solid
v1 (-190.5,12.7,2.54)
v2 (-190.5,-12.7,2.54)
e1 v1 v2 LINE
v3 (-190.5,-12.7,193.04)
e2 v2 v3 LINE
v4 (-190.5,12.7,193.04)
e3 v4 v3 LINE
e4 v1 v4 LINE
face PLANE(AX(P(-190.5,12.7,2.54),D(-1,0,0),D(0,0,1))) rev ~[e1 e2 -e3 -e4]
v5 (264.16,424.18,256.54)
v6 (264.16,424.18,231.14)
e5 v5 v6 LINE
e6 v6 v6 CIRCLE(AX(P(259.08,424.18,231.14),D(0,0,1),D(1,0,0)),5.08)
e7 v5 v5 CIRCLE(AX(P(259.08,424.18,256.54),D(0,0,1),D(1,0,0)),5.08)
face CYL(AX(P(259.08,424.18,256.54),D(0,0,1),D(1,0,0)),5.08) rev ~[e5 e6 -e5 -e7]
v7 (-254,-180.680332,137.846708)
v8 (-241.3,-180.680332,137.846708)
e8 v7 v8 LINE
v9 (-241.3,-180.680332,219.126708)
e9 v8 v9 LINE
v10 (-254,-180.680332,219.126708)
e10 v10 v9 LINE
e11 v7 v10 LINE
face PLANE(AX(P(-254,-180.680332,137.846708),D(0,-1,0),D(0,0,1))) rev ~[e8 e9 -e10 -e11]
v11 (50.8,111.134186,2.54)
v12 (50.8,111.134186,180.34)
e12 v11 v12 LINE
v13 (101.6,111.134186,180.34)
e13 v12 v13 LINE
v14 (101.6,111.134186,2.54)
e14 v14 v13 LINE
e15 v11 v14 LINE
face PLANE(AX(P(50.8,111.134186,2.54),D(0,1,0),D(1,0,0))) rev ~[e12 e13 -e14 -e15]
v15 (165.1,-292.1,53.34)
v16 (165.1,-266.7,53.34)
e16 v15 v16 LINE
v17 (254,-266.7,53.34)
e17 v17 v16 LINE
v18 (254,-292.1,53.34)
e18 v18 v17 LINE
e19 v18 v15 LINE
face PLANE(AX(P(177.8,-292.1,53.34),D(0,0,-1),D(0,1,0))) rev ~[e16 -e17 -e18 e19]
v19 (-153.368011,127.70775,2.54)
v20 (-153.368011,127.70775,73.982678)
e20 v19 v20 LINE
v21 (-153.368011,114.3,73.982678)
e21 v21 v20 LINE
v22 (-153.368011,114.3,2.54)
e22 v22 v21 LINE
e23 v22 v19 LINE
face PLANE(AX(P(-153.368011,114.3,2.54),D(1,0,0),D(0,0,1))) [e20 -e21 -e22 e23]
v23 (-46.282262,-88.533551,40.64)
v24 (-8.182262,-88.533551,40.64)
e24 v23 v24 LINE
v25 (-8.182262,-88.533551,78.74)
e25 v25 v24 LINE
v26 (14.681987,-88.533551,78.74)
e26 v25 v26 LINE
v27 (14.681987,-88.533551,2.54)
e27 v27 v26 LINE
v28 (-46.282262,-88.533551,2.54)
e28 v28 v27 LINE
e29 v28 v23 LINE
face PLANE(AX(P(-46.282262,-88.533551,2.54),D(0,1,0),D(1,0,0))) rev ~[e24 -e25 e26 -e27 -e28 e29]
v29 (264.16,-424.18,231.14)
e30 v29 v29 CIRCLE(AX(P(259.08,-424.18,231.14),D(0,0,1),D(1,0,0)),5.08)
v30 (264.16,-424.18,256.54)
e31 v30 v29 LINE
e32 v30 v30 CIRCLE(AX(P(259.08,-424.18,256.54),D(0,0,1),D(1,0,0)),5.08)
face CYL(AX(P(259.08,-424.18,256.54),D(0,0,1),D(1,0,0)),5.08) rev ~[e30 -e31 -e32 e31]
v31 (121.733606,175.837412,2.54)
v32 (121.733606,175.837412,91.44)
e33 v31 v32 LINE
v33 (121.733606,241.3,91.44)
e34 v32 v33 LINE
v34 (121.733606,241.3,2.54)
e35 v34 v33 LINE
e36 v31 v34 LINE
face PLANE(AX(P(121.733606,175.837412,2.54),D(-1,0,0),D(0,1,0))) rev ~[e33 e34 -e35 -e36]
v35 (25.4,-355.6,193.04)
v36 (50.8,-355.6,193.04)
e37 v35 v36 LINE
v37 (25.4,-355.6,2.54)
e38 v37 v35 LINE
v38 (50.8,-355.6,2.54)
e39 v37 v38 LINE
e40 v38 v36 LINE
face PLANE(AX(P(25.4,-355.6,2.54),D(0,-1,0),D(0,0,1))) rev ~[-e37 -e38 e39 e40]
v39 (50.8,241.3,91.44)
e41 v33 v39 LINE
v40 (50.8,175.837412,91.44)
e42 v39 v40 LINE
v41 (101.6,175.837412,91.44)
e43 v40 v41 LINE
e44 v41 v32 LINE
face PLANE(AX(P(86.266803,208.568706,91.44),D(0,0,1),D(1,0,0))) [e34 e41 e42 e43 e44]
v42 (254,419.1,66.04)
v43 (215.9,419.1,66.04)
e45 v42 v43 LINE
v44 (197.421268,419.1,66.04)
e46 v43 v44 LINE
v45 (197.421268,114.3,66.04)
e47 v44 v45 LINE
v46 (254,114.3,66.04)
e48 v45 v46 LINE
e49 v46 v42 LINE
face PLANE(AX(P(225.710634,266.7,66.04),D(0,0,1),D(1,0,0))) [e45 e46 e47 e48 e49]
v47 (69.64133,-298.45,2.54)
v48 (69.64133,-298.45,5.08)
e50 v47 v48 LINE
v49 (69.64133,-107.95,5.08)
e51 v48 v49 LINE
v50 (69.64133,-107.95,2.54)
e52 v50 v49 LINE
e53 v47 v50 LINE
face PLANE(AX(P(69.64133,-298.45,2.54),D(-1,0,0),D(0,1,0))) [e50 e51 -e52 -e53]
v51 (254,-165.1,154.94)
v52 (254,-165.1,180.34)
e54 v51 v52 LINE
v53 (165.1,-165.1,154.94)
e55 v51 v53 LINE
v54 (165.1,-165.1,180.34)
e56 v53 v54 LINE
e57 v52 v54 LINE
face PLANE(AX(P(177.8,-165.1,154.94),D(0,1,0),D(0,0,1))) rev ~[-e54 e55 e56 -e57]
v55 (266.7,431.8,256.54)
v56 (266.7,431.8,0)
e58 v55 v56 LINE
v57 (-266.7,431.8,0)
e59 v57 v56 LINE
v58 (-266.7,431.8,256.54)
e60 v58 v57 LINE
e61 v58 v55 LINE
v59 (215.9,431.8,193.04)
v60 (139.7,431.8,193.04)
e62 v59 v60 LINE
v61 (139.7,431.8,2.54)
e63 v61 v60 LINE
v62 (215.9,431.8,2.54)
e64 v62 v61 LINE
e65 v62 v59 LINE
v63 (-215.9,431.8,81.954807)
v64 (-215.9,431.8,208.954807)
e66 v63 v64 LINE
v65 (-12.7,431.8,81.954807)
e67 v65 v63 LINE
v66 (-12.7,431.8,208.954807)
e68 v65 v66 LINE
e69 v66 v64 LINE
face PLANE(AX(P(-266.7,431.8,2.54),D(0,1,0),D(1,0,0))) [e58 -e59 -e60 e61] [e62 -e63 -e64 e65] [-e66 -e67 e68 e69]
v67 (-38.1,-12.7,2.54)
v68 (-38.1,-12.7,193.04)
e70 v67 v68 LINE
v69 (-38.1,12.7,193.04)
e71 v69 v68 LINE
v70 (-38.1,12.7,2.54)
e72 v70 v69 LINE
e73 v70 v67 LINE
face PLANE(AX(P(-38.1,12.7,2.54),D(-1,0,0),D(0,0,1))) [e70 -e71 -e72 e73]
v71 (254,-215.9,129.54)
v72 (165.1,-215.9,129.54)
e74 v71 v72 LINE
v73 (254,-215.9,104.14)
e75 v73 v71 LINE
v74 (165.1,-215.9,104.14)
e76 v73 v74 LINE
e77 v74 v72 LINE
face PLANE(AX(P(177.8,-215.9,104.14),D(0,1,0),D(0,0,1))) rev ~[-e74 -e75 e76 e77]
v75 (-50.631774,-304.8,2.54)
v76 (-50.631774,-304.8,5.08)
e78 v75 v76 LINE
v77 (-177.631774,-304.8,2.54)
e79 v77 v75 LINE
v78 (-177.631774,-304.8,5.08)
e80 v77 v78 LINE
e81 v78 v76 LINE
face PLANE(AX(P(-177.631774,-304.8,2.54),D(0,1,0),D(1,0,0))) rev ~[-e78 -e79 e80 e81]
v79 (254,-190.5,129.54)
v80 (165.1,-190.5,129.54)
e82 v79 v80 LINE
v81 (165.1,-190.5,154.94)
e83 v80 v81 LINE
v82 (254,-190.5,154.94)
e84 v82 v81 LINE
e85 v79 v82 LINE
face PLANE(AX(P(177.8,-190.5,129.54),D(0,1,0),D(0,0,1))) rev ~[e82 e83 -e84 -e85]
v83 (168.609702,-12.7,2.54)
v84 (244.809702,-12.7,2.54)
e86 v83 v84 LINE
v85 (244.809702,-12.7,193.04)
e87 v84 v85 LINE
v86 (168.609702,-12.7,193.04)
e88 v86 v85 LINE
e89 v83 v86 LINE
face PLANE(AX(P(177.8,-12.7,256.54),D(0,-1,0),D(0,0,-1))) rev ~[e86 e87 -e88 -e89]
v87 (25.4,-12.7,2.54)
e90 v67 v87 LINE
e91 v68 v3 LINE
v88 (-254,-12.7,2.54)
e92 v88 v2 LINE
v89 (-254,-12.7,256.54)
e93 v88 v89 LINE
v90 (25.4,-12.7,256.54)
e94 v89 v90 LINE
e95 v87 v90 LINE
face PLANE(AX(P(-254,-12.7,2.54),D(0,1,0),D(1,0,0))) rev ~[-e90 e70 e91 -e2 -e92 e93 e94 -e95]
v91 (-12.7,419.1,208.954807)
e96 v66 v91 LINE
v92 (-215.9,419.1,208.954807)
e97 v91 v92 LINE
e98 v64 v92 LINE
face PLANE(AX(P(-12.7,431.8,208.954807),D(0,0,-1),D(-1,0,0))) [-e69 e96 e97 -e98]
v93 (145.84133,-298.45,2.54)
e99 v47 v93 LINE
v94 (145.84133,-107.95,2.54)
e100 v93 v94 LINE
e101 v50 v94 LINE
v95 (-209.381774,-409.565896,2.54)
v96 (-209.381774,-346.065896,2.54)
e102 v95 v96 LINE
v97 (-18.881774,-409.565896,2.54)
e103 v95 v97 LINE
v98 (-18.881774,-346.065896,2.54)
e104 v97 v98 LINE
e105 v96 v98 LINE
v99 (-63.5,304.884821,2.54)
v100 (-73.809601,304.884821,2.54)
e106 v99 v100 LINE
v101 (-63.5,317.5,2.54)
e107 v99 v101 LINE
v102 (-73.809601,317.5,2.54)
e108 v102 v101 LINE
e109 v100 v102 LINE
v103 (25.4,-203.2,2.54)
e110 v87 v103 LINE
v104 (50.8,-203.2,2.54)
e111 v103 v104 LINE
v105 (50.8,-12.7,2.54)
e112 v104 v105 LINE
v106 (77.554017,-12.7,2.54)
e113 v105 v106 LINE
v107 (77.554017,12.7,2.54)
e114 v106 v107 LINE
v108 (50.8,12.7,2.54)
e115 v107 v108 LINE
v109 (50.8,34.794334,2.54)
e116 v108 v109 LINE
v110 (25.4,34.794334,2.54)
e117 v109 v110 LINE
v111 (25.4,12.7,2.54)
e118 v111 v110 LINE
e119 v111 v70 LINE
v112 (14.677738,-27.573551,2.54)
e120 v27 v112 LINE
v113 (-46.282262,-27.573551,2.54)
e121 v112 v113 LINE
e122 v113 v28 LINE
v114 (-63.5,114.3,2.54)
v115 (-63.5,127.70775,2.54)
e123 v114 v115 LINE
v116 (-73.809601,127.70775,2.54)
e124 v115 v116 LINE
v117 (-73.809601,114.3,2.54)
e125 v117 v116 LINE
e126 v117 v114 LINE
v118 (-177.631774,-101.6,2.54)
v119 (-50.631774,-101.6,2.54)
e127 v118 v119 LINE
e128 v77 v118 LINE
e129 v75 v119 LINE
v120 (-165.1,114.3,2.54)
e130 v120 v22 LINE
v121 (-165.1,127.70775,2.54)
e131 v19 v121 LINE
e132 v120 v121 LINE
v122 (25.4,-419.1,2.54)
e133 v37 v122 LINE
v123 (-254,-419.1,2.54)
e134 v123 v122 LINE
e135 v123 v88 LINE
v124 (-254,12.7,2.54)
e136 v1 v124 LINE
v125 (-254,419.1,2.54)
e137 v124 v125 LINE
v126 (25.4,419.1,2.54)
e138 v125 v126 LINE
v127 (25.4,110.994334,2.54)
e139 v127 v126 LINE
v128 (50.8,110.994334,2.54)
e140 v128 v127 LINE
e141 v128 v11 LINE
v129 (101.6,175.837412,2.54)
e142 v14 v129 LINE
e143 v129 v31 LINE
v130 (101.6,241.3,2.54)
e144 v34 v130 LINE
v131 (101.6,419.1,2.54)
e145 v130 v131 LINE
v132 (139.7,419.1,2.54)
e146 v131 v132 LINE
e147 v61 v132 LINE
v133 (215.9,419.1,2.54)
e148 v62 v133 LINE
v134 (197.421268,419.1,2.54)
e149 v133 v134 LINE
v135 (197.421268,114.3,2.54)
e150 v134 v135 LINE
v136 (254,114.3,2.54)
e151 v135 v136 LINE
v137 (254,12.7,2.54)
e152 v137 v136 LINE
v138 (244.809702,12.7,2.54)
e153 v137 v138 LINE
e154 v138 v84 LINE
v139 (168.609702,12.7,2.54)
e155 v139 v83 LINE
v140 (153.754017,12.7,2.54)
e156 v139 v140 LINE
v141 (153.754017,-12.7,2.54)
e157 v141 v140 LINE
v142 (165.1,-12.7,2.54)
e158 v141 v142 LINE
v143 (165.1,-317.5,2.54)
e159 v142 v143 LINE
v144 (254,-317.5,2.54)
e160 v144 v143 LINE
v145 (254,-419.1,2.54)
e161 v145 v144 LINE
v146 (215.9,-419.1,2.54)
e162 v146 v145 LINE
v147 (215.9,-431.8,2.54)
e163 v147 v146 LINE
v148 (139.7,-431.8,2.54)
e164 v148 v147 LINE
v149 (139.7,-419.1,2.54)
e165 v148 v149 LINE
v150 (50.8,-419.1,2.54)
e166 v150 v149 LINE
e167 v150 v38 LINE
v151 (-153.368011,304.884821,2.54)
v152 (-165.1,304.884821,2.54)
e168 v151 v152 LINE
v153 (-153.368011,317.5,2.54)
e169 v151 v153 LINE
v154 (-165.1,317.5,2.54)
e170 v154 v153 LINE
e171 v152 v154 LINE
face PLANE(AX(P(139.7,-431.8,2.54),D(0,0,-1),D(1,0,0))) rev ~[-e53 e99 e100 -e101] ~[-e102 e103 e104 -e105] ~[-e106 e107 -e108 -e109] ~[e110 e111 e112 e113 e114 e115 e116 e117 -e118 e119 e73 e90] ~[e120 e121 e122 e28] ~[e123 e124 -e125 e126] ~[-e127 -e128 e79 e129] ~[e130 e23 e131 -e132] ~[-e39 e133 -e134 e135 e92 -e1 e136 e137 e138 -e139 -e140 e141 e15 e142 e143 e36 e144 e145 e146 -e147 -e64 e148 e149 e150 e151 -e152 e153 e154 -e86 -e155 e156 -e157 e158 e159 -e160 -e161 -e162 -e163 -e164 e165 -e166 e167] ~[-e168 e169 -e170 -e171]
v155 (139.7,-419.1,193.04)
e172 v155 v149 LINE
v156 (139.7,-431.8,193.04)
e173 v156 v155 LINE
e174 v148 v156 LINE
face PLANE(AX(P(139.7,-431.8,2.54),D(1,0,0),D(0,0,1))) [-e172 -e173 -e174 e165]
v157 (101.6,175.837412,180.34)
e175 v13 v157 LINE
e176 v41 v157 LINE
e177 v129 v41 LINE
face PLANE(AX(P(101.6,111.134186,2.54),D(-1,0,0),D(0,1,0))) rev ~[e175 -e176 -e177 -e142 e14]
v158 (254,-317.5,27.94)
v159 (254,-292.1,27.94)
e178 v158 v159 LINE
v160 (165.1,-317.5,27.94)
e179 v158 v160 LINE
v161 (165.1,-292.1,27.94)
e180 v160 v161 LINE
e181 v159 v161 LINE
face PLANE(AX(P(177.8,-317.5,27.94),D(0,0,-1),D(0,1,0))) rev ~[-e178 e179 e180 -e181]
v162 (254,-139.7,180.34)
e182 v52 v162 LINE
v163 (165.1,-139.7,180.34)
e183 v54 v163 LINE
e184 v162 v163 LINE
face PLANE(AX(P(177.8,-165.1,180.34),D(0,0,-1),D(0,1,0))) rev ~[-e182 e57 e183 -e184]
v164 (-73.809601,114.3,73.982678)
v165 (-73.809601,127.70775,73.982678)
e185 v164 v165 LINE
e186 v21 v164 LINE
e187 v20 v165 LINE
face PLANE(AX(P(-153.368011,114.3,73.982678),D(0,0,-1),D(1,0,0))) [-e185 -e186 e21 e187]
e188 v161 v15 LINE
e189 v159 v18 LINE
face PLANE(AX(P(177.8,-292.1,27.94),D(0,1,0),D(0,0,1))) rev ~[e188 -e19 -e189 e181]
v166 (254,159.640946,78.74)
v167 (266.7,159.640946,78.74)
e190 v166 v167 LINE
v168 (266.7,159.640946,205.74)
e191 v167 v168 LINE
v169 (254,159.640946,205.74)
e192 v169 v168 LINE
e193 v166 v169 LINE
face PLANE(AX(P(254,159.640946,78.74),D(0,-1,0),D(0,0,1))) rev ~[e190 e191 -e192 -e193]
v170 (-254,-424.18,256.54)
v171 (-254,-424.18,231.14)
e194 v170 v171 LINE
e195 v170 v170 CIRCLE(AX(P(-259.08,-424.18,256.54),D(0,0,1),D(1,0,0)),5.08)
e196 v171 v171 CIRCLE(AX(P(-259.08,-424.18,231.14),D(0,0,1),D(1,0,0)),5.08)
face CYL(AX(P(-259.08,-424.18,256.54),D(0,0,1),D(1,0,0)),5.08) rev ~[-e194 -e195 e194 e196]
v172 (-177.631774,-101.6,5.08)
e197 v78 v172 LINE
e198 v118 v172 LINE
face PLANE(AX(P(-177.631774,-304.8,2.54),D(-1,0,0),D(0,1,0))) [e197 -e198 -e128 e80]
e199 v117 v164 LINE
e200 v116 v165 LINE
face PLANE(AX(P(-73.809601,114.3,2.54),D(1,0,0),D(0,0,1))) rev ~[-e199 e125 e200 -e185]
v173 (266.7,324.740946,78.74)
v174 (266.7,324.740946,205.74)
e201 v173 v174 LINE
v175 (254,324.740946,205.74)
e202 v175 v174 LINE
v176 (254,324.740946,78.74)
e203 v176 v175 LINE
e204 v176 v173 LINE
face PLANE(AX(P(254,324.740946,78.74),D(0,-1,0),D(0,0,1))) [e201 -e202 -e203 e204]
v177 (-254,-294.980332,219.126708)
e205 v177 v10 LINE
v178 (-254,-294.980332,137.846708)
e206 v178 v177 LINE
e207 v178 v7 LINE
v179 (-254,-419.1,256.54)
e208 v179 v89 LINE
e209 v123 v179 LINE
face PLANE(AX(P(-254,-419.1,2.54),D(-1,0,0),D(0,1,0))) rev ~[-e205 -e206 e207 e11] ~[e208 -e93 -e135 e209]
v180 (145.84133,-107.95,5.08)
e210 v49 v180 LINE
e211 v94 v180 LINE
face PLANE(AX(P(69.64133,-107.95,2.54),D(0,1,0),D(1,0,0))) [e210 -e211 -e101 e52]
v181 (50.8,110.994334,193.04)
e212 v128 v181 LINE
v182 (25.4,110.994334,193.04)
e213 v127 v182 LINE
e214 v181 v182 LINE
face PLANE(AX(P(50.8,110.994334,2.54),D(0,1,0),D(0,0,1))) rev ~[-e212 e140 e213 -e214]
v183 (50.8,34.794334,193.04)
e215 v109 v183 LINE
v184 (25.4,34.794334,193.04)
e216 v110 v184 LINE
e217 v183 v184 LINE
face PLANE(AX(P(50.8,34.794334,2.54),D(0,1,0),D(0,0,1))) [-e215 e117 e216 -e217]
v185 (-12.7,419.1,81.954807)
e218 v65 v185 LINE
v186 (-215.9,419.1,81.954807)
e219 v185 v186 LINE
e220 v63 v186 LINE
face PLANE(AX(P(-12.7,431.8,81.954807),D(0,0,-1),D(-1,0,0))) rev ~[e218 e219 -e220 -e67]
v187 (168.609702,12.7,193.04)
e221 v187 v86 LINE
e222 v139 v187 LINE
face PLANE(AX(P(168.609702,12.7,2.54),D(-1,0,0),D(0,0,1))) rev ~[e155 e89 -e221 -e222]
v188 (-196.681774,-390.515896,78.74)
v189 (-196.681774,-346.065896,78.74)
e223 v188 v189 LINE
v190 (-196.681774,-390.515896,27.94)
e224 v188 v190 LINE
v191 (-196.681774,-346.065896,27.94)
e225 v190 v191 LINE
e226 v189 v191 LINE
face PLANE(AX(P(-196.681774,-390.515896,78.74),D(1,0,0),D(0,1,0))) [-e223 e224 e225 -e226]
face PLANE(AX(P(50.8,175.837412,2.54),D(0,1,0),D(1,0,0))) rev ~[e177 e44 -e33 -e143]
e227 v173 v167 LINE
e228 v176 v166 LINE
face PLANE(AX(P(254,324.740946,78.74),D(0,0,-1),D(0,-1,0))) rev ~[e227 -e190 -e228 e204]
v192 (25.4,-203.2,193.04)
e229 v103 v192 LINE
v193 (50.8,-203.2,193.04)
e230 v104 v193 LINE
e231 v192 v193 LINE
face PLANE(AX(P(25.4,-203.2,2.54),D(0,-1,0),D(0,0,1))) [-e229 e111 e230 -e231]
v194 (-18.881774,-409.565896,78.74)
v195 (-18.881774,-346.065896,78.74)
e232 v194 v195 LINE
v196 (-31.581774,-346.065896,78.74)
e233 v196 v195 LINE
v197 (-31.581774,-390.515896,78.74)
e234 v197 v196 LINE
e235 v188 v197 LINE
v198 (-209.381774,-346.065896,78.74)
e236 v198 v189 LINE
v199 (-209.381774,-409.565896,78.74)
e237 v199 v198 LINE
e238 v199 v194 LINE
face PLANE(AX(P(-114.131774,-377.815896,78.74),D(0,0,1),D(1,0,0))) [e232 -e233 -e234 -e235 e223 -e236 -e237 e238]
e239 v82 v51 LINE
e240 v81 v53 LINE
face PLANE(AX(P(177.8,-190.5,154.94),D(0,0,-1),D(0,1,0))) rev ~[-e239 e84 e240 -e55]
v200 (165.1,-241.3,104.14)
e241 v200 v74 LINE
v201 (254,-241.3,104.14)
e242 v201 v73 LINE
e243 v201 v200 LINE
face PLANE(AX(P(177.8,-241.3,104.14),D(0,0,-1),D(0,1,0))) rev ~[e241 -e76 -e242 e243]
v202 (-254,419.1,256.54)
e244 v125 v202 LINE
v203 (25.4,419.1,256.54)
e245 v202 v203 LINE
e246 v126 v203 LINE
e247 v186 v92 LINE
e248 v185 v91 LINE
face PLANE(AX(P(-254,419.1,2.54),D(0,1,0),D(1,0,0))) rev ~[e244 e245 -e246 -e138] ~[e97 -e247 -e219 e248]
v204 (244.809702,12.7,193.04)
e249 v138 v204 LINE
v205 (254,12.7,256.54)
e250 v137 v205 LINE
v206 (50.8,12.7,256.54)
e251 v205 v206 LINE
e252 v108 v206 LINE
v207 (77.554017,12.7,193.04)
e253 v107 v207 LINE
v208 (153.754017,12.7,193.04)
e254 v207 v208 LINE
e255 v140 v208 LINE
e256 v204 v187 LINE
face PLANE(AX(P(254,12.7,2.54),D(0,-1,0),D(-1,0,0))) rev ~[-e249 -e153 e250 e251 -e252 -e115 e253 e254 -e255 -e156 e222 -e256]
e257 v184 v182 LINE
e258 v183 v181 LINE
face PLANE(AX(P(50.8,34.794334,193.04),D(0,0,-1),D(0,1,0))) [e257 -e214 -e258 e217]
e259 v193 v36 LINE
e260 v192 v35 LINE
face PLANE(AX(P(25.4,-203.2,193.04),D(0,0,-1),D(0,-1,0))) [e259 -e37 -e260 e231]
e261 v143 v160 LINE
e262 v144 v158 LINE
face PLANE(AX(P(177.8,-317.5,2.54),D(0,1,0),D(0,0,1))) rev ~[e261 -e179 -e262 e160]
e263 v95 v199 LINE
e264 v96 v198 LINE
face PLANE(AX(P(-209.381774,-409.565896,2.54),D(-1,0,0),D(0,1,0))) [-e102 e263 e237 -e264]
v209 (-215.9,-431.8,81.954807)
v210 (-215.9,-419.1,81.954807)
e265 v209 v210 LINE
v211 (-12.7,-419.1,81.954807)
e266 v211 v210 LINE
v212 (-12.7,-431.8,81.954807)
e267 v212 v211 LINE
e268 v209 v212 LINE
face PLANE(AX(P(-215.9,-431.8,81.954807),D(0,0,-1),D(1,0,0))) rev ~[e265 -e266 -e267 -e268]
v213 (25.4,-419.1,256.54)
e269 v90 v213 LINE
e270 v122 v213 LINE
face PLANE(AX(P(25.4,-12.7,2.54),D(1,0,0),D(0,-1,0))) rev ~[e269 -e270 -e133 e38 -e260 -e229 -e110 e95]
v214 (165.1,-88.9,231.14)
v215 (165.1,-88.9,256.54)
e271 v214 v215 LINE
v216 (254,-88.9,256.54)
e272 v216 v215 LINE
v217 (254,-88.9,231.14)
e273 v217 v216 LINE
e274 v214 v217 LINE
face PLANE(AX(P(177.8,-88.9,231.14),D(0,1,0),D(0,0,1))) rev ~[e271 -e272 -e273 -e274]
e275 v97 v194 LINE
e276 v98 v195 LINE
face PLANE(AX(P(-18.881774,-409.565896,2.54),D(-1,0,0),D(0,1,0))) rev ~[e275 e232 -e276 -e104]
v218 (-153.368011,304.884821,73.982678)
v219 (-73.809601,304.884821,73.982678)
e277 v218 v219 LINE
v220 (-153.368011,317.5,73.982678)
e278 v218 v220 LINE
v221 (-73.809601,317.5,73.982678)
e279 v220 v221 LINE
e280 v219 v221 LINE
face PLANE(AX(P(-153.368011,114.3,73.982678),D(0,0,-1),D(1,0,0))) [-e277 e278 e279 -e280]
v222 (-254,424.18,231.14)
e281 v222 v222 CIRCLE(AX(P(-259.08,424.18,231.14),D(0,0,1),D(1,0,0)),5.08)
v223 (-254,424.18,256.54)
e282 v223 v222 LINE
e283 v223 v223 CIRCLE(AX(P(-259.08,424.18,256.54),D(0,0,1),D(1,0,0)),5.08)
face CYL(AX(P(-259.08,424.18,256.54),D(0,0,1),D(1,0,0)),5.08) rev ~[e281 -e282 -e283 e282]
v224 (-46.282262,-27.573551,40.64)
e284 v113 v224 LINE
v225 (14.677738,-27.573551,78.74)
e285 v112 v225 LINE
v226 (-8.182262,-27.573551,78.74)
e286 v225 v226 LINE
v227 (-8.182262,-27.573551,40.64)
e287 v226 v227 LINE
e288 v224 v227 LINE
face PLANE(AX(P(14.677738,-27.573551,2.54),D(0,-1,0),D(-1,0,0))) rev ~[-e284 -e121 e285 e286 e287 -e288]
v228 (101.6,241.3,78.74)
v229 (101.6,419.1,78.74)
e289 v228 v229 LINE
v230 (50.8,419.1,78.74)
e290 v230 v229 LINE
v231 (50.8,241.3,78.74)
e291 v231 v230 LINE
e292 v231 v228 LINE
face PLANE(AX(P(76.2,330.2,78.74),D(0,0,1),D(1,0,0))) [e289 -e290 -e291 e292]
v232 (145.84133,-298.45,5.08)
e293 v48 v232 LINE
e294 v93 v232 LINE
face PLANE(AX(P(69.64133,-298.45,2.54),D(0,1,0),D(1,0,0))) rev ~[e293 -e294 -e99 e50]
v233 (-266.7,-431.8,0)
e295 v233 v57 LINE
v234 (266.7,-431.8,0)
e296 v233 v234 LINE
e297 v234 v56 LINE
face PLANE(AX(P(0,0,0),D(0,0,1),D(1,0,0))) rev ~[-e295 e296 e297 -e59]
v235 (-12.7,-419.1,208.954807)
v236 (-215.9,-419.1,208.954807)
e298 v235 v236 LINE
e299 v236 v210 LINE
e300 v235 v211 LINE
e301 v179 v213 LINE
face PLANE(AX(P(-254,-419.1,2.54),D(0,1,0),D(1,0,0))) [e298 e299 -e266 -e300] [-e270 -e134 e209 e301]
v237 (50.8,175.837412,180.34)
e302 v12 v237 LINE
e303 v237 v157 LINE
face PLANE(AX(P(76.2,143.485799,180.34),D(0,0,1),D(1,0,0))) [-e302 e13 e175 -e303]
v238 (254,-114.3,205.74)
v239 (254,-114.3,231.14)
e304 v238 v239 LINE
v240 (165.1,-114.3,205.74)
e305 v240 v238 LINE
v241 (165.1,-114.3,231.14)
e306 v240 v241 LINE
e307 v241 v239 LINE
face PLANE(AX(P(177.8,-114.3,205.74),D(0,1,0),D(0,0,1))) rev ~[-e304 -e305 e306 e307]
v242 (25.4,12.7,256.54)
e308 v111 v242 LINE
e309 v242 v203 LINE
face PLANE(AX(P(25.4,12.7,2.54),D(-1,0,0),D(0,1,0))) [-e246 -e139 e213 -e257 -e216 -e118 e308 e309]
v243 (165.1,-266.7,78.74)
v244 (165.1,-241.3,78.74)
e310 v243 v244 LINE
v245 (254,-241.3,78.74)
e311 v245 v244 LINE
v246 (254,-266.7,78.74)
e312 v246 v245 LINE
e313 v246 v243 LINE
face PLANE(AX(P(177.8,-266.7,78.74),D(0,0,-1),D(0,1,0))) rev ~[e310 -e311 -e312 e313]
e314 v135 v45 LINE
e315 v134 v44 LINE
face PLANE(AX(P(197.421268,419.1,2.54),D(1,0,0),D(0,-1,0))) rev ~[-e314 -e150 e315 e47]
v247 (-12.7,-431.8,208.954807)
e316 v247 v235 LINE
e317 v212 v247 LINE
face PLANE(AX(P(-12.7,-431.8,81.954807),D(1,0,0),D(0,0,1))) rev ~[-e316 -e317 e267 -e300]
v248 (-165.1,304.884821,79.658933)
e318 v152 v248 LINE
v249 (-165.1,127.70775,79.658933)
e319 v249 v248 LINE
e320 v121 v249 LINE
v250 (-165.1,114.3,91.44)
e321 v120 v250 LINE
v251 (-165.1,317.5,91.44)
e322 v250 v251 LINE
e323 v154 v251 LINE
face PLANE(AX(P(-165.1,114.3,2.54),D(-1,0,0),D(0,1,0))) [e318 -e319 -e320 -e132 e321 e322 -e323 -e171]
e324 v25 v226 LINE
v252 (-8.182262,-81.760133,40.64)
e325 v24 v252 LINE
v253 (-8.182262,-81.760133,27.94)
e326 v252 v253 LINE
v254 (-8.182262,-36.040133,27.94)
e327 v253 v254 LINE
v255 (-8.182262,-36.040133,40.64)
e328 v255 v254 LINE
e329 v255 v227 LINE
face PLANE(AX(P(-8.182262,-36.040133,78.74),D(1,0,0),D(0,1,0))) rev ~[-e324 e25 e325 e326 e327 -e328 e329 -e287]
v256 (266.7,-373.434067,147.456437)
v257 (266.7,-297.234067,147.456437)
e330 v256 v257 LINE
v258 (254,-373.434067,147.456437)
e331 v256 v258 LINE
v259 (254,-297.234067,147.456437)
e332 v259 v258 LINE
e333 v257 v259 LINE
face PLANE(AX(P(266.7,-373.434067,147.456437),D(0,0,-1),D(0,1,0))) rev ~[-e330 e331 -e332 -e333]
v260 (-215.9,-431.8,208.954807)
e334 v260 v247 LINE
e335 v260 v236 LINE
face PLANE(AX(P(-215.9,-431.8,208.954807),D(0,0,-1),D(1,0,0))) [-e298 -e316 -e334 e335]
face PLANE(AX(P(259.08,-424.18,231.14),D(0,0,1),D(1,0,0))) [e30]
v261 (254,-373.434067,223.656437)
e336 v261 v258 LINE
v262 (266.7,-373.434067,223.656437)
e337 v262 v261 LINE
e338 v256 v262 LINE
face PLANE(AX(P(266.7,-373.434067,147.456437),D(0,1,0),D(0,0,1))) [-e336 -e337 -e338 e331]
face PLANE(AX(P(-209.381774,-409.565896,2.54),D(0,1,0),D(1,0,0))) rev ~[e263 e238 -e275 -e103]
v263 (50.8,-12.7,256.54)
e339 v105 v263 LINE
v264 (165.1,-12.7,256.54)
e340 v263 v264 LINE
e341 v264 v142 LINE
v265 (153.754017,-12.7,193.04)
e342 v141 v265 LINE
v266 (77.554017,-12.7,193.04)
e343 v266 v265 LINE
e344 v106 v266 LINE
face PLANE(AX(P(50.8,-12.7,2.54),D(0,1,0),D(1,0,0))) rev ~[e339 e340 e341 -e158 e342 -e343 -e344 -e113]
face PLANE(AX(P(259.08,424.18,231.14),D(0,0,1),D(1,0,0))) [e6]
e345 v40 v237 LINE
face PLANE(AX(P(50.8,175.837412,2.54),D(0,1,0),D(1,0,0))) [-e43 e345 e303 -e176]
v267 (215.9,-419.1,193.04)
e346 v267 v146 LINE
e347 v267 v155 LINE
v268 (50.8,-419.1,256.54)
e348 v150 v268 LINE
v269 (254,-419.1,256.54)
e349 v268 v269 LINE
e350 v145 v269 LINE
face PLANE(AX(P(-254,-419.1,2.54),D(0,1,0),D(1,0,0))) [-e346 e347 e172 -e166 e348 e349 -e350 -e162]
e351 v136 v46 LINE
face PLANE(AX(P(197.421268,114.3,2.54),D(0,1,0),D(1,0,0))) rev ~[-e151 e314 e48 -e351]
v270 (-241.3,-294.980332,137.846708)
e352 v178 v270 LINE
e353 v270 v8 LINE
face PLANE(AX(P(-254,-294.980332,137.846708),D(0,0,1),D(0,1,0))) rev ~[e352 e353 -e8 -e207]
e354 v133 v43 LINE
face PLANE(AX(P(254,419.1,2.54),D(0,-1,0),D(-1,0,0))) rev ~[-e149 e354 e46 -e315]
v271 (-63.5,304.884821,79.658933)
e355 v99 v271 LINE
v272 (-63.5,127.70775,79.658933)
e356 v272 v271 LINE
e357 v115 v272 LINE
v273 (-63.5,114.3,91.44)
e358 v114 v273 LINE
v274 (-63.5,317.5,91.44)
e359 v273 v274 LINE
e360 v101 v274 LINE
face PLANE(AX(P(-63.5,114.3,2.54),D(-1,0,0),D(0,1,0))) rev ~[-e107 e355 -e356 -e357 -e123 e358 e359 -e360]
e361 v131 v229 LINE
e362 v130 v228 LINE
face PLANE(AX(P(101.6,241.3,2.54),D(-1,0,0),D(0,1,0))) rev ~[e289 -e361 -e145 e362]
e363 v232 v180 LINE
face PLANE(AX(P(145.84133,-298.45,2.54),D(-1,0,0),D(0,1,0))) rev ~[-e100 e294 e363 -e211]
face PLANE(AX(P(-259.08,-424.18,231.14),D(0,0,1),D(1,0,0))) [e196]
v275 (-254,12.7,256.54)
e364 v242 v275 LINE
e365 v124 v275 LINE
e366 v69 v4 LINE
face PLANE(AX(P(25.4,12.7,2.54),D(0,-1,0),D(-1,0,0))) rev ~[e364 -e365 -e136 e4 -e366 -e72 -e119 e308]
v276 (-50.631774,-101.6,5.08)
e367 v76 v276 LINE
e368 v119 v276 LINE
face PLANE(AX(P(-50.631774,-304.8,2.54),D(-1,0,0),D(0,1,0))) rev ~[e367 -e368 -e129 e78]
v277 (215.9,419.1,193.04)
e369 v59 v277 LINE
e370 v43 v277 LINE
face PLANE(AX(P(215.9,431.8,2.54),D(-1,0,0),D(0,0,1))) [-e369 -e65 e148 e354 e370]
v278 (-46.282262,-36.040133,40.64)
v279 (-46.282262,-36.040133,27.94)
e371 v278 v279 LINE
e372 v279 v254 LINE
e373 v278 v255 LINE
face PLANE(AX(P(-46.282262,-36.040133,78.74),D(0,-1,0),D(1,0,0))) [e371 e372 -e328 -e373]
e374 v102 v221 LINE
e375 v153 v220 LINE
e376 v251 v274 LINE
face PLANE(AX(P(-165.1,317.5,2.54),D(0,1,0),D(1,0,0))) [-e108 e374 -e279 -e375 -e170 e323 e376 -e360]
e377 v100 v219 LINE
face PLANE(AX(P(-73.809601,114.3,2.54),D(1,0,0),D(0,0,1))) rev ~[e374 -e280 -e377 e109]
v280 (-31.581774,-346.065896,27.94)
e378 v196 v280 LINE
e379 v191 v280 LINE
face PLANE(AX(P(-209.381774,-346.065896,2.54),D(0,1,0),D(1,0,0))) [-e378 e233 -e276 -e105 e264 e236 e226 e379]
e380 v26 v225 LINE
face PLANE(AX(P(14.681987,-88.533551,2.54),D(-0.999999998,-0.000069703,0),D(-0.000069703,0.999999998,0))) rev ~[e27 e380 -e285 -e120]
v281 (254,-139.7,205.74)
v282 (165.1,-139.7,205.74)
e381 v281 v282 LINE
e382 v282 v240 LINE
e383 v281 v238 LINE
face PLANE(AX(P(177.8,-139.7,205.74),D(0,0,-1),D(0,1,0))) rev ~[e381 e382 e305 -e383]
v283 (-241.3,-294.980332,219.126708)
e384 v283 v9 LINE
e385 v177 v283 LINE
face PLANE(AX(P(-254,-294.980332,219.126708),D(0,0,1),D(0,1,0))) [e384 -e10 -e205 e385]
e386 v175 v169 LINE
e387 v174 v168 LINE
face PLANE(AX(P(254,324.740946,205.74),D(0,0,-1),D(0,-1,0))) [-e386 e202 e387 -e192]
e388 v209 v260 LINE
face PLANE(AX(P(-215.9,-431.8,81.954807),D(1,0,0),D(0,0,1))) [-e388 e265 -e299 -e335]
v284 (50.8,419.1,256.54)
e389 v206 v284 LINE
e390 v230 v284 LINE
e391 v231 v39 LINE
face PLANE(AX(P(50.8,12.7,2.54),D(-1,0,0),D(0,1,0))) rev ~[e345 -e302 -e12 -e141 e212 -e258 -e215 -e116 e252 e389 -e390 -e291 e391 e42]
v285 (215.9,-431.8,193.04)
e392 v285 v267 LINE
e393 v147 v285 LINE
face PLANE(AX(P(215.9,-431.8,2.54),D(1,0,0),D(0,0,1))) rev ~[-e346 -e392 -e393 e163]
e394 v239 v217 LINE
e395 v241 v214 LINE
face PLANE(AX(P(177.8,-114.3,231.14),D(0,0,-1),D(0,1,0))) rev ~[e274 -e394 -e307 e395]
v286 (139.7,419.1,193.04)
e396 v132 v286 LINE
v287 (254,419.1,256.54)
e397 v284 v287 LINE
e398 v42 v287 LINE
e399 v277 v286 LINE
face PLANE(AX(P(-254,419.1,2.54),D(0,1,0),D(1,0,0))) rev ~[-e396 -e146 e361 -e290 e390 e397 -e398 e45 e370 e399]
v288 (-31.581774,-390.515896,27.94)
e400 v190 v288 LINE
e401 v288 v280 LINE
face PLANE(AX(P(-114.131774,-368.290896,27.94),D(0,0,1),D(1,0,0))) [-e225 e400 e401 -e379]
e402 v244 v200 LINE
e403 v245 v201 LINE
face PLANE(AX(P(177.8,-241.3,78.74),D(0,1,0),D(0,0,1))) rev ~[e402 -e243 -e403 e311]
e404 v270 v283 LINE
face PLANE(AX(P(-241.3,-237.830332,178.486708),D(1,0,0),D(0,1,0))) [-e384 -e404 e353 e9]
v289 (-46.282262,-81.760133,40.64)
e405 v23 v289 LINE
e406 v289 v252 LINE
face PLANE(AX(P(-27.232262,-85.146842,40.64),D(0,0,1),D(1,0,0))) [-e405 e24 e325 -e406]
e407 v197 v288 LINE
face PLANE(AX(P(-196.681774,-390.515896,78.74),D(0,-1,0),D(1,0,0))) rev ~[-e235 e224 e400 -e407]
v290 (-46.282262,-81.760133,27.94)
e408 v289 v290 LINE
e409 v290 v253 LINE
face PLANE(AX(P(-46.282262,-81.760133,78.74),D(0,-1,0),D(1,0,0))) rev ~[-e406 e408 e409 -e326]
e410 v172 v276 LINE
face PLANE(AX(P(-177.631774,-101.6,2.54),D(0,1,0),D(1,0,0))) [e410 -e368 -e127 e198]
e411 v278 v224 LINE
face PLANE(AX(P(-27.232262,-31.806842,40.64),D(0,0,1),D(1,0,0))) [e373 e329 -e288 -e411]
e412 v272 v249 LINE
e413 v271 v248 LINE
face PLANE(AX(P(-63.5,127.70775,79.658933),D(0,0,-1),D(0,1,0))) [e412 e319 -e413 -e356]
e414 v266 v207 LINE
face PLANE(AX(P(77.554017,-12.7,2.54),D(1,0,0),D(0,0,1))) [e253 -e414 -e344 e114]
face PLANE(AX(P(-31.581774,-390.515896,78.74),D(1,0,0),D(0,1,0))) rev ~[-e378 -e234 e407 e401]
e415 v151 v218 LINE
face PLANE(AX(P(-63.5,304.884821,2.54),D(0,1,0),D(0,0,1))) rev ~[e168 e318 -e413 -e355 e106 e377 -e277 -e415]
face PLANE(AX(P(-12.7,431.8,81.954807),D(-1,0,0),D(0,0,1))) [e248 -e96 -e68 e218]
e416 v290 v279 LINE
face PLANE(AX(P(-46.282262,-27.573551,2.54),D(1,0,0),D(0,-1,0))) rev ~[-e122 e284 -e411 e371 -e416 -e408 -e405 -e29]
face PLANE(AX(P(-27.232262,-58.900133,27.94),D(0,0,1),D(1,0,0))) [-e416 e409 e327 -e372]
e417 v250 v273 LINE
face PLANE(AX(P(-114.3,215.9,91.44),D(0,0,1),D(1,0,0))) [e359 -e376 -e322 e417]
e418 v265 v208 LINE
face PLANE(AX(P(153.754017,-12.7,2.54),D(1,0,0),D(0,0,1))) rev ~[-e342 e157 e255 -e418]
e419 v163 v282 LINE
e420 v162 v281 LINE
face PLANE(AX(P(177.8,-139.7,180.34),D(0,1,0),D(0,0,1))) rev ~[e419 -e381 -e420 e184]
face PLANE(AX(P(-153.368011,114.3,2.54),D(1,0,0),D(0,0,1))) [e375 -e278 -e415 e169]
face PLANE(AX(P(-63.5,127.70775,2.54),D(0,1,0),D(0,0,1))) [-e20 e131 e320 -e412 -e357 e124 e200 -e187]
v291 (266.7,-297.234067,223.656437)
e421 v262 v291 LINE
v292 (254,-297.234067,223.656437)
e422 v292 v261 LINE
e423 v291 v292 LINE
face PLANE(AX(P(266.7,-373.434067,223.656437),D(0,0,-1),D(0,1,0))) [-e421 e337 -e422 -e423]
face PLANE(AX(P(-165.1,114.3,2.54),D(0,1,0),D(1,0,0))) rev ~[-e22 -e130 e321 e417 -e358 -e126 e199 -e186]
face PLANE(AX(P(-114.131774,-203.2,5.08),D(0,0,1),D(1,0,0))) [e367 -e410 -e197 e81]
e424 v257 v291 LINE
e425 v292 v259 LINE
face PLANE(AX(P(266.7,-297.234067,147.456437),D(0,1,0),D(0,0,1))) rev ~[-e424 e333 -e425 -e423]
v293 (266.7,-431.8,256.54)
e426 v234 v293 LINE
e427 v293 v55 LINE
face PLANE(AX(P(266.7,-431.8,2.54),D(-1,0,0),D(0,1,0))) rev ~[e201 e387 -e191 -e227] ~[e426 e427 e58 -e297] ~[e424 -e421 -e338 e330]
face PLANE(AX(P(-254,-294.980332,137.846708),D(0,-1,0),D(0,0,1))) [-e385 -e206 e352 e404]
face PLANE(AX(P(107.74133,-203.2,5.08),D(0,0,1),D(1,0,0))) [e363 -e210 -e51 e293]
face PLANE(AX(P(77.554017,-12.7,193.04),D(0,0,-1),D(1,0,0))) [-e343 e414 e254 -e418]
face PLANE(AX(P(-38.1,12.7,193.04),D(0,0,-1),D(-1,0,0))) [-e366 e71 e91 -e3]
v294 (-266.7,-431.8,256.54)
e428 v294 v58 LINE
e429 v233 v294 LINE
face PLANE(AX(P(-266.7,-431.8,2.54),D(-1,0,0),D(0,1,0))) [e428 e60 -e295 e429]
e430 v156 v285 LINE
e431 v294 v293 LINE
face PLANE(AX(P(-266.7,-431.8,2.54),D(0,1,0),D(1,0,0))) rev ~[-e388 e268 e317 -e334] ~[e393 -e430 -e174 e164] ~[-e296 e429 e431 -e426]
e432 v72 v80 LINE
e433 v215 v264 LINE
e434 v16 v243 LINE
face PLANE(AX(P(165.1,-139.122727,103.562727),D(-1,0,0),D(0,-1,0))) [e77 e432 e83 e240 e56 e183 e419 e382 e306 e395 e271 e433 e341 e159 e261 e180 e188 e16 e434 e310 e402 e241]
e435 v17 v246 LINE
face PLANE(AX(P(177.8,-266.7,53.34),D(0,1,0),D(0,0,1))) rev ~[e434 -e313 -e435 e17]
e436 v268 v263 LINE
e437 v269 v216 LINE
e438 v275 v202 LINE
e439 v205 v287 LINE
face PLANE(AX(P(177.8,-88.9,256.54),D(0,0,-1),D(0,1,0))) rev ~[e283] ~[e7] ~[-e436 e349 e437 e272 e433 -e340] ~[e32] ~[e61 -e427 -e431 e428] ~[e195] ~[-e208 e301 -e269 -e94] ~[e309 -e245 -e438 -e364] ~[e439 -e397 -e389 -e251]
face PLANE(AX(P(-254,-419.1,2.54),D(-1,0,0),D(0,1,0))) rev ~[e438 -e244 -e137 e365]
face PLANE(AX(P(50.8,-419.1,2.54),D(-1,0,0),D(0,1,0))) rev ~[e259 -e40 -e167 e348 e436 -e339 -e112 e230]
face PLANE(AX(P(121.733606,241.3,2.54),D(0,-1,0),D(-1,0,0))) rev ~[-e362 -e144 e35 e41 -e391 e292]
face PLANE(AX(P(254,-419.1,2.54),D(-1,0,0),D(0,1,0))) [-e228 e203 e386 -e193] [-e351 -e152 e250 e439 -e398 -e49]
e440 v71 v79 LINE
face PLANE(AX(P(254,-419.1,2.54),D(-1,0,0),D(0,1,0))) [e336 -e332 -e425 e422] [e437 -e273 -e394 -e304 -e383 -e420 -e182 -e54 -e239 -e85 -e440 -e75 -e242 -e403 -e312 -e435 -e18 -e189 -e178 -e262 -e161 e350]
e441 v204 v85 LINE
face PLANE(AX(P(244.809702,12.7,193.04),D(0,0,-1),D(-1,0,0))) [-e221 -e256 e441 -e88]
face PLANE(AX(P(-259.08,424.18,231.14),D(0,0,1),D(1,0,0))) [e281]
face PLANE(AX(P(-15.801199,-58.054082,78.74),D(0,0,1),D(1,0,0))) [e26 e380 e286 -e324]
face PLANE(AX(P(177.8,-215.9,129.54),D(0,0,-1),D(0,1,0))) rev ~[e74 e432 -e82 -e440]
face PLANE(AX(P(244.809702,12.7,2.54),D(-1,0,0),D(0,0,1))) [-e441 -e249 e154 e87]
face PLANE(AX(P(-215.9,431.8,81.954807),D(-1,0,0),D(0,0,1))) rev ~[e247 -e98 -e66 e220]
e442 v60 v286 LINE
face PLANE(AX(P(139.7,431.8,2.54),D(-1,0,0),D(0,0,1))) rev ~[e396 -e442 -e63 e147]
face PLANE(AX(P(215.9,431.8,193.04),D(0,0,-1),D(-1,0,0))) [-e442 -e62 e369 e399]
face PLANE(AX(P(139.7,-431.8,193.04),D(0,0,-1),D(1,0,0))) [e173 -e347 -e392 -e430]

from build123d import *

# Parameters (mm, degrees)
F0_W      = 533.4
F0_H      = 863.6
F1_DEPTH  = 2.54
F2_W      = 533.4
F2_H      = 863.6
F2_W_2    = 508
F2_H_2    = 838.2
F3_DEPTH  = 254
F4_W      = 25.4
F4_H      = 406.4
F4_H_2    = 25.4
F5_DEPTH  = 254
F6_W      = 76.2
F6_H      = 190.5
F7_DEPTH  = 25.4
F8_W      = 76.2
F8_H      = 304.8
F9_DEPTH  = 25.4
F10_W     = 76.2
F10_H     = 279.4
F11_DEPTH = 25.4
F12_W     = 76.2
F12_H     = 254
F13_DEPTH = 25.4
F14_W     = 76.2
F14_H     = 228.6
F15_DEPTH = 25.4
F16_W     = 76.2
F16_H     = 203.2
F17_DEPTH = 25.4
F18_W     = 76.2
F18_H     = 177.8
F19_DEPTH = 25.4
F20_W     = 76.2
F20_H     = 152.4
F21_DEPTH = 25.4
F22_W     = 76.2
F22_H     = 127
F23_DEPTH = 25.4
F24_W     = 76.2
F24_H     = 101.6
F25_DEPTH = 25.4
F26_W     = 76.2
F26_H     = 76.2
F27_DEPTH = 25.4
F28_W     = 76.2
F28_H     = 190.5
F29_DEPTH = 25.4
F30_W     = 76.2
F30_H     = 190.5
F31_DEPTH = 25.4
F32_W     = 152.4
F32_H     = 190.5
F33_DEPTH = 25.4
F34_W     = 152.4
F34_H     = 190.5
F35_DEPTH = 25.4
F37_W     = 76.2
F37_H     = 76.2
F38_DEPTH = 25.4
F39_W     = 203.2
F39_H     = 127
F40_DEPTH = 25.4
F41_W     = 203.2
F41_H     = 127
F42_DEPTH = 25.4
F43_W     = 76.2
F43_H     = 190.5
F44_DEPTH = 25.4
F45_W     = 76.2
F45_H     = 190.5
F46_DEPTH = 25.4
F48_DEPTH = 12.7
F49_W     = 165.1
F49_H     = 127
F50_DEPTH = 25.4
F51_R     = 5.08
F52_DEPTH = 25.4
F53_W     = 190.5
F53_H     = 63.5
F54_DEPTH = 76.2
F55_W     = 165.1
F55_H     = 44.45
F56_DEPTH = 50.8
F57_W     = 127
F57_H     = 203.2
F57_W_2   = 76.2
F57_H_2   = 190.5
F58_DEPTH = 2.54
F60_DEPTH = 63.5
F61_W     = 50.8
F61_H     = 177.8
F62_DEPTH = 76.2
F64_DEPTH = 88.9
F65_W     = 50.8
F65_H     = 64.7032260895
F66_DEPTH = 177.8
F67_W     = 101.6
F67_H     = 203.2
F68_DEPTH = 88.9
F69_W     = 79.5584097505
F69_H     = 71.4426783538
F70_DEPTH = 203.2
F71_W     = 177.1770715714
F71_H     = 77.1189329839
F72_DEPTH = 101.6
F73_W     = 114.3
F73_H     = 81.28
F74_DEPTH = 12.7
F76_DEPTH = 76.2
F77_W     = 38.1
F77_H     = 45.72
F78_DEPTH = 50.8
F79_W     = 38.1
F79_H     = 8.466582
F79_H_2   = 6.773418
F80_DEPTH = 38.1


with BuildPart() as f1:
    # F0 (on Top) → F1 (new body)
    with BuildSketch(Plane.XY):
        Rectangle(F0_W, F0_H)
    extrude(amount=F1_DEPTH)

    # F2 (on face) → F3 (join)
    with BuildSketch(Plane.XY.offset(2.54)):
        Rectangle(F2_W, F2_H)
        Rectangle(F2_W_2, F2_H_2, mode=Mode.SUBTRACT)
    extrude(amount=F3_DEPTH)

    # F4 (on face) → F5 (join)
    with BuildSketch(Plane.XY.offset(2.54)):
        with Locations((38.1, -215.9)):
            Rectangle(F4_W, F4_H)
        with Locations((38.1, 0)):
            Rectangle(F4_W, F4_H_2)
        Polygon((254, 12.7), (50.8, 12.7), (50.8, -12.7), (254, -12.7), (254, 0), align=None)
        Polygon((25.4, -12.7), (25.4, 12.7), (-254, 12.7), (-254, 0), (-254, -12.7), align=None)
        with Locations((38.1, 215.9)):
            Rectangle(F4_W, F4_H)
    extrude(amount=F5_DEPTH)

    # F6 (on face) → F7 (cut)
    with BuildSketch(Plane.XZ.offset(431.8)):
        with Locations((177.8, 97.79)):
            Rectangle(F6_W, F6_H)
    extrude(amount=-F7_DEPTH, mode=Mode.SUBTRACT)

    # F8 (on face) → F9 (join)
    with BuildSketch(Plane.XY.offset(2.54)):
        with Locations((215.9, -165.1)):
            Rectangle(F8_W, F8_H)
    extrude(amount=F9_DEPTH)

    # F10 (on face) → F11 (join)
    with BuildSketch(Plane.XY.offset(27.94)):
        with Locations((215.9, -152.4)):
            Rectangle(F10_W, F10_H)
    extrude(amount=F11_DEPTH)

    # F12 (on face) → F13 (join)
    with BuildSketch(Plane.XY.offset(53.34)):
        with Locations((215.9, -139.7)):
            Rectangle(F12_W, F12_H)
    extrude(amount=F13_DEPTH)

    # F14 (on face) → F15 (join)
    with BuildSketch(Plane.XY.offset(78.74)):
        with Locations((215.9, -127)):
            Rectangle(F14_W, F14_H)
    extrude(amount=F15_DEPTH)

    # F16 (on face) → F17 (join)
    with BuildSketch(Plane.XY.offset(104.14)):
        with Locations((215.9, -114.3)):
            Rectangle(F16_W, F16_H)
    extrude(amount=F17_DEPTH)

    # F18 (on face) → F19 (join)
    with BuildSketch(Plane.XY.offset(129.54)):
        with Locations((215.9, -101.6)):
            Rectangle(F18_W, F18_H)
    extrude(amount=F19_DEPTH)

    # F20 (on face) → F21 (join)
    with BuildSketch(Plane.XY.offset(154.94)):
        with Locations((215.9, -88.9)):
            Rectangle(F20_W, F20_H)
    extrude(amount=F21_DEPTH)

    # F22 (on face) → F23 (join)
    with BuildSketch(Plane.XY.offset(180.34)):
        with Locations((215.9, -76.2)):
            Rectangle(F22_W, F22_H)
    extrude(amount=F23_DEPTH)

    # F24 (on face) → F25 (join)
    with BuildSketch(Plane.XY.offset(205.74)):
        with Locations((215.9, -63.5)):
            Rectangle(F24_W, F24_H)
    extrude(amount=F25_DEPTH)

    # F26 (on face) → F27 (join)
    with BuildSketch(Plane.XY.offset(231.14)):
        with Locations((215.9, -50.8)):
            Rectangle(F26_W, F26_H)
    extrude(amount=F27_DEPTH)

    # F28 (on face) → F29 (cut)
    with BuildSketch(Plane.XZ.offset(12.7)):
        with Locations((115.6540173054, 97.79)):
            Rectangle(F28_W, F28_H)
    extrude(amount=-F29_DEPTH, mode=Mode.SUBTRACT)

    # F30 (on face) → F31 (cut)
    with BuildSketch(Plane.YZ.offset(50.8)):
        with Locations((72.8943343222, 97.79)):
            Rectangle(F30_W, F30_H)
    extrude(amount=-F31_DEPTH, mode=Mode.SUBTRACT)

    # F32 (on face) → F33 (cut)
    with BuildSketch(Plane(origin=(0, 12.7, 0), x_dir=(-1, 0, 0), z_dir=(0, 1, 0))):
        with Locations((114.3, 97.79)):
            Rectangle(F32_W, F32_H)
    extrude(amount=-F33_DEPTH, mode=Mode.SUBTRACT)

    # F34 (on face) → F35 (cut)
    with BuildSketch(Plane(origin=(25.4, 0, 0), x_dir=(0, -1, 0), z_dir=(-1, 0, 0))):
        with Locations((279.4, 97.79)):
            Rectangle(F34_W, F34_H)
    extrude(amount=-F35_DEPTH, mode=Mode.SUBTRACT)

    # F37 (on face) → F38 (cut)
    with BuildSketch(Plane.YZ.offset(266.7)):
        with Locations((-335.3340667725, 185.5564373493)):
            Rectangle(F37_W, F37_H)
    extrude(amount=-F38_DEPTH, mode=Mode.SUBTRACT)

    # F39 (on face) → F40 (cut)
    with BuildSketch(Plane.XZ.offset(431.8)):
        with Locations((-114.3, 145.4548070431)):
            Rectangle(F39_W, F39_H)
    extrude(amount=-F40_DEPTH, mode=Mode.SUBTRACT)

    # F41 (on face) → F42 (cut)
    with BuildSketch(Plane(origin=(0, 431.8, 0), x_dir=(-1, 0, 0), z_dir=(0, 1, 0))):
        with Locations((114.3, 145.4548070431)):
            Rectangle(F41_W, F41_H)
    extrude(amount=-F42_DEPTH, mode=Mode.SUBTRACT)

    # F43 (on face) → F44 (cut)
    with BuildSketch(Plane(origin=(0, 431.8, 0), x_dir=(-1, 0, 0), z_dir=(0, 1, 0))):
        with Locations((-177.8, 97.79)):
            Rectangle(F43_W, F43_H)
    extrude(amount=-F44_DEPTH, mode=Mode.SUBTRACT)

    # F45 (on face) → F46 (cut)
    with BuildSketch(Plane(origin=(0, 12.7, 0), x_dir=(-1, 0, 0), z_dir=(0, 1, 0))):
        with Locations((-206.7097020388, 97.79)):
            Rectangle(F45_W, F45_H)
    extrude(amount=-F46_DEPTH, mode=Mode.SUBTRACT)

    # F47 (on face) → F48 (join)
    with BuildSketch(Plane(origin=(177.8, 0, 0), x_dir=(0, -1, 0), z_dir=(-1, 0, 0))):
        Polygon((88.9, 231.14), (88.9, 256.54), (12.7, 256.54), (12.7, 193.04), (12.7, 2.54), (317.5, 2.54), (317.5, 27.94), (292.1, 27.94), (292.1, 53.34), (266.7, 53.34), (266.7, 78.74), (241.3, 78.74), (241.3, 104.14), (215.9, 104.14), (215.9, 129.54), (190.5, 129.54), (190.5, 154.94), (165.1, 154.94), (165.1, 180.34), (139.7, 180.34), (139.7, 205.74), (114.3, 205.74), (114.3, 231.14), align=None)
    extrude(amount=F48_DEPTH)

    # F49 (on face) → F50 (cut)
    with BuildSketch(Plane(origin=(254, 0, 0), x_dir=(0, -1, 0), z_dir=(-1, 0, 0))):
        with Locations((-242.1909462929, 142.24)):
            Rectangle(F49_W, F49_H)
    extrude(amount=-F50_DEPTH, mode=Mode.SUBTRACT)

    # F51 (on face) → F52 (cut)
    with BuildSketch(Plane.XY.offset(256.54)):
        with Locations((259.08, -424.18)):
            Circle(F51_R)
        with Locations((-259.08, -424.18)):
            Circle(F51_R)
        with Locations((-259.08, 424.18)):
            Circle(F51_R)
        with Locations((259.08, 424.18)):
            Circle(F51_R)
    extrude(amount=-F52_DEPTH, mode=Mode.SUBTRACT)

    # F53 (on face) → F54 (join)
    with BuildSketch(Plane.XY.offset(2.54)):
        with Locations((-114.1317740679, -377.8158957958)):
            Rectangle(F53_W, F53_H)
    extrude(amount=F54_DEPTH)

    # F55 (on face) → F56 (cut)
    with BuildSketch(Plane.XY.offset(78.74)):
        with Locations((-114.1317740679, -368.2908957958)):
            Rectangle(F55_W, F55_H)
    extrude(amount=-F56_DEPTH, mode=Mode.SUBTRACT)

    # F57 (on face) → F58 (join)
    with BuildSketch(Plane.XY.offset(2.54)):
        with Locations((-114.1317740679, -203.2)):
            Rectangle(F57_W, F57_H)
        with Locations((107.7413304009, -203.2)):
            Rectangle(F57_W_2, F57_H_2)
    extrude(amount=F58_DEPTH)

    # F59 (on face) → F60 (join)
    with BuildSketch(Plane.XY.offset(2.54)):
        Polygon((215.9, 419.1), (197.4212676287, 419.1), (197.4212676287, 114.3), (254, 114.3), (254, 419.1), align=None)
    extrude(amount=F60_DEPTH)

    # F61 (on face) → F62 (join)
    with BuildSketch(Plane.XY.offset(2.54)):
        with Locations((76.2, 330.2)):
            Rectangle(F61_W, F61_H)
    extrude(amount=F62_DEPTH)

    # F63 (on face) → F64 (join)
    with BuildSketch(Plane.XY.offset(2.54)):
        Polygon((121.7336058617, 241.3), (101.6, 241.3), (50.8, 241.3), (50.8, 175.8374124765), (101.6, 175.8374124765), (121.7336058617, 175.8374124765), align=None)
    extrude(amount=F64_DEPTH)

    # F65 (on face) → F66 (join)
    with BuildSketch(Plane.XY.offset(2.54)):
        with Locations((76.2, 143.4857994318)):
            Rectangle(F65_W, F65_H)
    extrude(amount=F66_DEPTH)

    # F67 (on face) → F68 (join)
    with BuildSketch(Plane.XY.offset(2.54)):
        with Locations((-114.3, 215.9)):
            Rectangle(F67_W, F67_H)
    extrude(amount=F68_DEPTH)

    # F69 (on face) → F70 (cut)
    with BuildSketch(Plane.XZ.offset(-114.3)):
        with Locations((-113.5888062418, 38.2613391769)):
            Rectangle(F69_W, F69_H)
    extrude(amount=-F70_DEPTH, mode=Mode.SUBTRACT)

    # F71 (on face) → F72 (cut)
    with BuildSketch(Plane.YZ.offset(-63.5)):
        with Locations((216.2962853909, 41.0994664919)):
            Rectangle(F71_W, F71_H)
    extrude(amount=-F72_DEPTH, mode=Mode.SUBTRACT)

    # F73 (on face) → F74 (join)
    with BuildSketch(Plane.YZ.offset(-254)):
        with Locations((-237.8303322554, 178.4867082977)):
            Rectangle(F73_W, F73_H)
    extrude(amount=F74_DEPTH)

    # F75 (on face) → F76 (join)
    with BuildSketch(Plane.XY.offset(2.54)):
        Polygon((-46.28226161, -88.5335505009), (14.6819874644, -88.5335505009), (14.67773839, -27.5735505009), (-46.28226161, -27.5735505009), align=None)
    extrude(amount=F76_DEPTH)

    # F77 (on face) → F78 (cut)
    with BuildSketch(Plane.XY.offset(78.74)):
        with Locations((-27.23226161, -58.9001325009)):
            Rectangle(F77_W, F77_H)
    extrude(amount=-F78_DEPTH, mode=Mode.SUBTRACT)

    # F79 (on face) → F80 (cut)
    with BuildSketch(Plane.XY.offset(78.74)):
        with Locations((-27.23226161, -31.8068415009)):
            Rectangle(F79_W, F79_H)
        with Locations((-27.23226161, -85.1468415009)):
            Rectangle(F79_W, F79_H_2)
    extrude(amount=-F80_DEPTH, mode=Mode.SUBTRACT)


solid = f1.part
